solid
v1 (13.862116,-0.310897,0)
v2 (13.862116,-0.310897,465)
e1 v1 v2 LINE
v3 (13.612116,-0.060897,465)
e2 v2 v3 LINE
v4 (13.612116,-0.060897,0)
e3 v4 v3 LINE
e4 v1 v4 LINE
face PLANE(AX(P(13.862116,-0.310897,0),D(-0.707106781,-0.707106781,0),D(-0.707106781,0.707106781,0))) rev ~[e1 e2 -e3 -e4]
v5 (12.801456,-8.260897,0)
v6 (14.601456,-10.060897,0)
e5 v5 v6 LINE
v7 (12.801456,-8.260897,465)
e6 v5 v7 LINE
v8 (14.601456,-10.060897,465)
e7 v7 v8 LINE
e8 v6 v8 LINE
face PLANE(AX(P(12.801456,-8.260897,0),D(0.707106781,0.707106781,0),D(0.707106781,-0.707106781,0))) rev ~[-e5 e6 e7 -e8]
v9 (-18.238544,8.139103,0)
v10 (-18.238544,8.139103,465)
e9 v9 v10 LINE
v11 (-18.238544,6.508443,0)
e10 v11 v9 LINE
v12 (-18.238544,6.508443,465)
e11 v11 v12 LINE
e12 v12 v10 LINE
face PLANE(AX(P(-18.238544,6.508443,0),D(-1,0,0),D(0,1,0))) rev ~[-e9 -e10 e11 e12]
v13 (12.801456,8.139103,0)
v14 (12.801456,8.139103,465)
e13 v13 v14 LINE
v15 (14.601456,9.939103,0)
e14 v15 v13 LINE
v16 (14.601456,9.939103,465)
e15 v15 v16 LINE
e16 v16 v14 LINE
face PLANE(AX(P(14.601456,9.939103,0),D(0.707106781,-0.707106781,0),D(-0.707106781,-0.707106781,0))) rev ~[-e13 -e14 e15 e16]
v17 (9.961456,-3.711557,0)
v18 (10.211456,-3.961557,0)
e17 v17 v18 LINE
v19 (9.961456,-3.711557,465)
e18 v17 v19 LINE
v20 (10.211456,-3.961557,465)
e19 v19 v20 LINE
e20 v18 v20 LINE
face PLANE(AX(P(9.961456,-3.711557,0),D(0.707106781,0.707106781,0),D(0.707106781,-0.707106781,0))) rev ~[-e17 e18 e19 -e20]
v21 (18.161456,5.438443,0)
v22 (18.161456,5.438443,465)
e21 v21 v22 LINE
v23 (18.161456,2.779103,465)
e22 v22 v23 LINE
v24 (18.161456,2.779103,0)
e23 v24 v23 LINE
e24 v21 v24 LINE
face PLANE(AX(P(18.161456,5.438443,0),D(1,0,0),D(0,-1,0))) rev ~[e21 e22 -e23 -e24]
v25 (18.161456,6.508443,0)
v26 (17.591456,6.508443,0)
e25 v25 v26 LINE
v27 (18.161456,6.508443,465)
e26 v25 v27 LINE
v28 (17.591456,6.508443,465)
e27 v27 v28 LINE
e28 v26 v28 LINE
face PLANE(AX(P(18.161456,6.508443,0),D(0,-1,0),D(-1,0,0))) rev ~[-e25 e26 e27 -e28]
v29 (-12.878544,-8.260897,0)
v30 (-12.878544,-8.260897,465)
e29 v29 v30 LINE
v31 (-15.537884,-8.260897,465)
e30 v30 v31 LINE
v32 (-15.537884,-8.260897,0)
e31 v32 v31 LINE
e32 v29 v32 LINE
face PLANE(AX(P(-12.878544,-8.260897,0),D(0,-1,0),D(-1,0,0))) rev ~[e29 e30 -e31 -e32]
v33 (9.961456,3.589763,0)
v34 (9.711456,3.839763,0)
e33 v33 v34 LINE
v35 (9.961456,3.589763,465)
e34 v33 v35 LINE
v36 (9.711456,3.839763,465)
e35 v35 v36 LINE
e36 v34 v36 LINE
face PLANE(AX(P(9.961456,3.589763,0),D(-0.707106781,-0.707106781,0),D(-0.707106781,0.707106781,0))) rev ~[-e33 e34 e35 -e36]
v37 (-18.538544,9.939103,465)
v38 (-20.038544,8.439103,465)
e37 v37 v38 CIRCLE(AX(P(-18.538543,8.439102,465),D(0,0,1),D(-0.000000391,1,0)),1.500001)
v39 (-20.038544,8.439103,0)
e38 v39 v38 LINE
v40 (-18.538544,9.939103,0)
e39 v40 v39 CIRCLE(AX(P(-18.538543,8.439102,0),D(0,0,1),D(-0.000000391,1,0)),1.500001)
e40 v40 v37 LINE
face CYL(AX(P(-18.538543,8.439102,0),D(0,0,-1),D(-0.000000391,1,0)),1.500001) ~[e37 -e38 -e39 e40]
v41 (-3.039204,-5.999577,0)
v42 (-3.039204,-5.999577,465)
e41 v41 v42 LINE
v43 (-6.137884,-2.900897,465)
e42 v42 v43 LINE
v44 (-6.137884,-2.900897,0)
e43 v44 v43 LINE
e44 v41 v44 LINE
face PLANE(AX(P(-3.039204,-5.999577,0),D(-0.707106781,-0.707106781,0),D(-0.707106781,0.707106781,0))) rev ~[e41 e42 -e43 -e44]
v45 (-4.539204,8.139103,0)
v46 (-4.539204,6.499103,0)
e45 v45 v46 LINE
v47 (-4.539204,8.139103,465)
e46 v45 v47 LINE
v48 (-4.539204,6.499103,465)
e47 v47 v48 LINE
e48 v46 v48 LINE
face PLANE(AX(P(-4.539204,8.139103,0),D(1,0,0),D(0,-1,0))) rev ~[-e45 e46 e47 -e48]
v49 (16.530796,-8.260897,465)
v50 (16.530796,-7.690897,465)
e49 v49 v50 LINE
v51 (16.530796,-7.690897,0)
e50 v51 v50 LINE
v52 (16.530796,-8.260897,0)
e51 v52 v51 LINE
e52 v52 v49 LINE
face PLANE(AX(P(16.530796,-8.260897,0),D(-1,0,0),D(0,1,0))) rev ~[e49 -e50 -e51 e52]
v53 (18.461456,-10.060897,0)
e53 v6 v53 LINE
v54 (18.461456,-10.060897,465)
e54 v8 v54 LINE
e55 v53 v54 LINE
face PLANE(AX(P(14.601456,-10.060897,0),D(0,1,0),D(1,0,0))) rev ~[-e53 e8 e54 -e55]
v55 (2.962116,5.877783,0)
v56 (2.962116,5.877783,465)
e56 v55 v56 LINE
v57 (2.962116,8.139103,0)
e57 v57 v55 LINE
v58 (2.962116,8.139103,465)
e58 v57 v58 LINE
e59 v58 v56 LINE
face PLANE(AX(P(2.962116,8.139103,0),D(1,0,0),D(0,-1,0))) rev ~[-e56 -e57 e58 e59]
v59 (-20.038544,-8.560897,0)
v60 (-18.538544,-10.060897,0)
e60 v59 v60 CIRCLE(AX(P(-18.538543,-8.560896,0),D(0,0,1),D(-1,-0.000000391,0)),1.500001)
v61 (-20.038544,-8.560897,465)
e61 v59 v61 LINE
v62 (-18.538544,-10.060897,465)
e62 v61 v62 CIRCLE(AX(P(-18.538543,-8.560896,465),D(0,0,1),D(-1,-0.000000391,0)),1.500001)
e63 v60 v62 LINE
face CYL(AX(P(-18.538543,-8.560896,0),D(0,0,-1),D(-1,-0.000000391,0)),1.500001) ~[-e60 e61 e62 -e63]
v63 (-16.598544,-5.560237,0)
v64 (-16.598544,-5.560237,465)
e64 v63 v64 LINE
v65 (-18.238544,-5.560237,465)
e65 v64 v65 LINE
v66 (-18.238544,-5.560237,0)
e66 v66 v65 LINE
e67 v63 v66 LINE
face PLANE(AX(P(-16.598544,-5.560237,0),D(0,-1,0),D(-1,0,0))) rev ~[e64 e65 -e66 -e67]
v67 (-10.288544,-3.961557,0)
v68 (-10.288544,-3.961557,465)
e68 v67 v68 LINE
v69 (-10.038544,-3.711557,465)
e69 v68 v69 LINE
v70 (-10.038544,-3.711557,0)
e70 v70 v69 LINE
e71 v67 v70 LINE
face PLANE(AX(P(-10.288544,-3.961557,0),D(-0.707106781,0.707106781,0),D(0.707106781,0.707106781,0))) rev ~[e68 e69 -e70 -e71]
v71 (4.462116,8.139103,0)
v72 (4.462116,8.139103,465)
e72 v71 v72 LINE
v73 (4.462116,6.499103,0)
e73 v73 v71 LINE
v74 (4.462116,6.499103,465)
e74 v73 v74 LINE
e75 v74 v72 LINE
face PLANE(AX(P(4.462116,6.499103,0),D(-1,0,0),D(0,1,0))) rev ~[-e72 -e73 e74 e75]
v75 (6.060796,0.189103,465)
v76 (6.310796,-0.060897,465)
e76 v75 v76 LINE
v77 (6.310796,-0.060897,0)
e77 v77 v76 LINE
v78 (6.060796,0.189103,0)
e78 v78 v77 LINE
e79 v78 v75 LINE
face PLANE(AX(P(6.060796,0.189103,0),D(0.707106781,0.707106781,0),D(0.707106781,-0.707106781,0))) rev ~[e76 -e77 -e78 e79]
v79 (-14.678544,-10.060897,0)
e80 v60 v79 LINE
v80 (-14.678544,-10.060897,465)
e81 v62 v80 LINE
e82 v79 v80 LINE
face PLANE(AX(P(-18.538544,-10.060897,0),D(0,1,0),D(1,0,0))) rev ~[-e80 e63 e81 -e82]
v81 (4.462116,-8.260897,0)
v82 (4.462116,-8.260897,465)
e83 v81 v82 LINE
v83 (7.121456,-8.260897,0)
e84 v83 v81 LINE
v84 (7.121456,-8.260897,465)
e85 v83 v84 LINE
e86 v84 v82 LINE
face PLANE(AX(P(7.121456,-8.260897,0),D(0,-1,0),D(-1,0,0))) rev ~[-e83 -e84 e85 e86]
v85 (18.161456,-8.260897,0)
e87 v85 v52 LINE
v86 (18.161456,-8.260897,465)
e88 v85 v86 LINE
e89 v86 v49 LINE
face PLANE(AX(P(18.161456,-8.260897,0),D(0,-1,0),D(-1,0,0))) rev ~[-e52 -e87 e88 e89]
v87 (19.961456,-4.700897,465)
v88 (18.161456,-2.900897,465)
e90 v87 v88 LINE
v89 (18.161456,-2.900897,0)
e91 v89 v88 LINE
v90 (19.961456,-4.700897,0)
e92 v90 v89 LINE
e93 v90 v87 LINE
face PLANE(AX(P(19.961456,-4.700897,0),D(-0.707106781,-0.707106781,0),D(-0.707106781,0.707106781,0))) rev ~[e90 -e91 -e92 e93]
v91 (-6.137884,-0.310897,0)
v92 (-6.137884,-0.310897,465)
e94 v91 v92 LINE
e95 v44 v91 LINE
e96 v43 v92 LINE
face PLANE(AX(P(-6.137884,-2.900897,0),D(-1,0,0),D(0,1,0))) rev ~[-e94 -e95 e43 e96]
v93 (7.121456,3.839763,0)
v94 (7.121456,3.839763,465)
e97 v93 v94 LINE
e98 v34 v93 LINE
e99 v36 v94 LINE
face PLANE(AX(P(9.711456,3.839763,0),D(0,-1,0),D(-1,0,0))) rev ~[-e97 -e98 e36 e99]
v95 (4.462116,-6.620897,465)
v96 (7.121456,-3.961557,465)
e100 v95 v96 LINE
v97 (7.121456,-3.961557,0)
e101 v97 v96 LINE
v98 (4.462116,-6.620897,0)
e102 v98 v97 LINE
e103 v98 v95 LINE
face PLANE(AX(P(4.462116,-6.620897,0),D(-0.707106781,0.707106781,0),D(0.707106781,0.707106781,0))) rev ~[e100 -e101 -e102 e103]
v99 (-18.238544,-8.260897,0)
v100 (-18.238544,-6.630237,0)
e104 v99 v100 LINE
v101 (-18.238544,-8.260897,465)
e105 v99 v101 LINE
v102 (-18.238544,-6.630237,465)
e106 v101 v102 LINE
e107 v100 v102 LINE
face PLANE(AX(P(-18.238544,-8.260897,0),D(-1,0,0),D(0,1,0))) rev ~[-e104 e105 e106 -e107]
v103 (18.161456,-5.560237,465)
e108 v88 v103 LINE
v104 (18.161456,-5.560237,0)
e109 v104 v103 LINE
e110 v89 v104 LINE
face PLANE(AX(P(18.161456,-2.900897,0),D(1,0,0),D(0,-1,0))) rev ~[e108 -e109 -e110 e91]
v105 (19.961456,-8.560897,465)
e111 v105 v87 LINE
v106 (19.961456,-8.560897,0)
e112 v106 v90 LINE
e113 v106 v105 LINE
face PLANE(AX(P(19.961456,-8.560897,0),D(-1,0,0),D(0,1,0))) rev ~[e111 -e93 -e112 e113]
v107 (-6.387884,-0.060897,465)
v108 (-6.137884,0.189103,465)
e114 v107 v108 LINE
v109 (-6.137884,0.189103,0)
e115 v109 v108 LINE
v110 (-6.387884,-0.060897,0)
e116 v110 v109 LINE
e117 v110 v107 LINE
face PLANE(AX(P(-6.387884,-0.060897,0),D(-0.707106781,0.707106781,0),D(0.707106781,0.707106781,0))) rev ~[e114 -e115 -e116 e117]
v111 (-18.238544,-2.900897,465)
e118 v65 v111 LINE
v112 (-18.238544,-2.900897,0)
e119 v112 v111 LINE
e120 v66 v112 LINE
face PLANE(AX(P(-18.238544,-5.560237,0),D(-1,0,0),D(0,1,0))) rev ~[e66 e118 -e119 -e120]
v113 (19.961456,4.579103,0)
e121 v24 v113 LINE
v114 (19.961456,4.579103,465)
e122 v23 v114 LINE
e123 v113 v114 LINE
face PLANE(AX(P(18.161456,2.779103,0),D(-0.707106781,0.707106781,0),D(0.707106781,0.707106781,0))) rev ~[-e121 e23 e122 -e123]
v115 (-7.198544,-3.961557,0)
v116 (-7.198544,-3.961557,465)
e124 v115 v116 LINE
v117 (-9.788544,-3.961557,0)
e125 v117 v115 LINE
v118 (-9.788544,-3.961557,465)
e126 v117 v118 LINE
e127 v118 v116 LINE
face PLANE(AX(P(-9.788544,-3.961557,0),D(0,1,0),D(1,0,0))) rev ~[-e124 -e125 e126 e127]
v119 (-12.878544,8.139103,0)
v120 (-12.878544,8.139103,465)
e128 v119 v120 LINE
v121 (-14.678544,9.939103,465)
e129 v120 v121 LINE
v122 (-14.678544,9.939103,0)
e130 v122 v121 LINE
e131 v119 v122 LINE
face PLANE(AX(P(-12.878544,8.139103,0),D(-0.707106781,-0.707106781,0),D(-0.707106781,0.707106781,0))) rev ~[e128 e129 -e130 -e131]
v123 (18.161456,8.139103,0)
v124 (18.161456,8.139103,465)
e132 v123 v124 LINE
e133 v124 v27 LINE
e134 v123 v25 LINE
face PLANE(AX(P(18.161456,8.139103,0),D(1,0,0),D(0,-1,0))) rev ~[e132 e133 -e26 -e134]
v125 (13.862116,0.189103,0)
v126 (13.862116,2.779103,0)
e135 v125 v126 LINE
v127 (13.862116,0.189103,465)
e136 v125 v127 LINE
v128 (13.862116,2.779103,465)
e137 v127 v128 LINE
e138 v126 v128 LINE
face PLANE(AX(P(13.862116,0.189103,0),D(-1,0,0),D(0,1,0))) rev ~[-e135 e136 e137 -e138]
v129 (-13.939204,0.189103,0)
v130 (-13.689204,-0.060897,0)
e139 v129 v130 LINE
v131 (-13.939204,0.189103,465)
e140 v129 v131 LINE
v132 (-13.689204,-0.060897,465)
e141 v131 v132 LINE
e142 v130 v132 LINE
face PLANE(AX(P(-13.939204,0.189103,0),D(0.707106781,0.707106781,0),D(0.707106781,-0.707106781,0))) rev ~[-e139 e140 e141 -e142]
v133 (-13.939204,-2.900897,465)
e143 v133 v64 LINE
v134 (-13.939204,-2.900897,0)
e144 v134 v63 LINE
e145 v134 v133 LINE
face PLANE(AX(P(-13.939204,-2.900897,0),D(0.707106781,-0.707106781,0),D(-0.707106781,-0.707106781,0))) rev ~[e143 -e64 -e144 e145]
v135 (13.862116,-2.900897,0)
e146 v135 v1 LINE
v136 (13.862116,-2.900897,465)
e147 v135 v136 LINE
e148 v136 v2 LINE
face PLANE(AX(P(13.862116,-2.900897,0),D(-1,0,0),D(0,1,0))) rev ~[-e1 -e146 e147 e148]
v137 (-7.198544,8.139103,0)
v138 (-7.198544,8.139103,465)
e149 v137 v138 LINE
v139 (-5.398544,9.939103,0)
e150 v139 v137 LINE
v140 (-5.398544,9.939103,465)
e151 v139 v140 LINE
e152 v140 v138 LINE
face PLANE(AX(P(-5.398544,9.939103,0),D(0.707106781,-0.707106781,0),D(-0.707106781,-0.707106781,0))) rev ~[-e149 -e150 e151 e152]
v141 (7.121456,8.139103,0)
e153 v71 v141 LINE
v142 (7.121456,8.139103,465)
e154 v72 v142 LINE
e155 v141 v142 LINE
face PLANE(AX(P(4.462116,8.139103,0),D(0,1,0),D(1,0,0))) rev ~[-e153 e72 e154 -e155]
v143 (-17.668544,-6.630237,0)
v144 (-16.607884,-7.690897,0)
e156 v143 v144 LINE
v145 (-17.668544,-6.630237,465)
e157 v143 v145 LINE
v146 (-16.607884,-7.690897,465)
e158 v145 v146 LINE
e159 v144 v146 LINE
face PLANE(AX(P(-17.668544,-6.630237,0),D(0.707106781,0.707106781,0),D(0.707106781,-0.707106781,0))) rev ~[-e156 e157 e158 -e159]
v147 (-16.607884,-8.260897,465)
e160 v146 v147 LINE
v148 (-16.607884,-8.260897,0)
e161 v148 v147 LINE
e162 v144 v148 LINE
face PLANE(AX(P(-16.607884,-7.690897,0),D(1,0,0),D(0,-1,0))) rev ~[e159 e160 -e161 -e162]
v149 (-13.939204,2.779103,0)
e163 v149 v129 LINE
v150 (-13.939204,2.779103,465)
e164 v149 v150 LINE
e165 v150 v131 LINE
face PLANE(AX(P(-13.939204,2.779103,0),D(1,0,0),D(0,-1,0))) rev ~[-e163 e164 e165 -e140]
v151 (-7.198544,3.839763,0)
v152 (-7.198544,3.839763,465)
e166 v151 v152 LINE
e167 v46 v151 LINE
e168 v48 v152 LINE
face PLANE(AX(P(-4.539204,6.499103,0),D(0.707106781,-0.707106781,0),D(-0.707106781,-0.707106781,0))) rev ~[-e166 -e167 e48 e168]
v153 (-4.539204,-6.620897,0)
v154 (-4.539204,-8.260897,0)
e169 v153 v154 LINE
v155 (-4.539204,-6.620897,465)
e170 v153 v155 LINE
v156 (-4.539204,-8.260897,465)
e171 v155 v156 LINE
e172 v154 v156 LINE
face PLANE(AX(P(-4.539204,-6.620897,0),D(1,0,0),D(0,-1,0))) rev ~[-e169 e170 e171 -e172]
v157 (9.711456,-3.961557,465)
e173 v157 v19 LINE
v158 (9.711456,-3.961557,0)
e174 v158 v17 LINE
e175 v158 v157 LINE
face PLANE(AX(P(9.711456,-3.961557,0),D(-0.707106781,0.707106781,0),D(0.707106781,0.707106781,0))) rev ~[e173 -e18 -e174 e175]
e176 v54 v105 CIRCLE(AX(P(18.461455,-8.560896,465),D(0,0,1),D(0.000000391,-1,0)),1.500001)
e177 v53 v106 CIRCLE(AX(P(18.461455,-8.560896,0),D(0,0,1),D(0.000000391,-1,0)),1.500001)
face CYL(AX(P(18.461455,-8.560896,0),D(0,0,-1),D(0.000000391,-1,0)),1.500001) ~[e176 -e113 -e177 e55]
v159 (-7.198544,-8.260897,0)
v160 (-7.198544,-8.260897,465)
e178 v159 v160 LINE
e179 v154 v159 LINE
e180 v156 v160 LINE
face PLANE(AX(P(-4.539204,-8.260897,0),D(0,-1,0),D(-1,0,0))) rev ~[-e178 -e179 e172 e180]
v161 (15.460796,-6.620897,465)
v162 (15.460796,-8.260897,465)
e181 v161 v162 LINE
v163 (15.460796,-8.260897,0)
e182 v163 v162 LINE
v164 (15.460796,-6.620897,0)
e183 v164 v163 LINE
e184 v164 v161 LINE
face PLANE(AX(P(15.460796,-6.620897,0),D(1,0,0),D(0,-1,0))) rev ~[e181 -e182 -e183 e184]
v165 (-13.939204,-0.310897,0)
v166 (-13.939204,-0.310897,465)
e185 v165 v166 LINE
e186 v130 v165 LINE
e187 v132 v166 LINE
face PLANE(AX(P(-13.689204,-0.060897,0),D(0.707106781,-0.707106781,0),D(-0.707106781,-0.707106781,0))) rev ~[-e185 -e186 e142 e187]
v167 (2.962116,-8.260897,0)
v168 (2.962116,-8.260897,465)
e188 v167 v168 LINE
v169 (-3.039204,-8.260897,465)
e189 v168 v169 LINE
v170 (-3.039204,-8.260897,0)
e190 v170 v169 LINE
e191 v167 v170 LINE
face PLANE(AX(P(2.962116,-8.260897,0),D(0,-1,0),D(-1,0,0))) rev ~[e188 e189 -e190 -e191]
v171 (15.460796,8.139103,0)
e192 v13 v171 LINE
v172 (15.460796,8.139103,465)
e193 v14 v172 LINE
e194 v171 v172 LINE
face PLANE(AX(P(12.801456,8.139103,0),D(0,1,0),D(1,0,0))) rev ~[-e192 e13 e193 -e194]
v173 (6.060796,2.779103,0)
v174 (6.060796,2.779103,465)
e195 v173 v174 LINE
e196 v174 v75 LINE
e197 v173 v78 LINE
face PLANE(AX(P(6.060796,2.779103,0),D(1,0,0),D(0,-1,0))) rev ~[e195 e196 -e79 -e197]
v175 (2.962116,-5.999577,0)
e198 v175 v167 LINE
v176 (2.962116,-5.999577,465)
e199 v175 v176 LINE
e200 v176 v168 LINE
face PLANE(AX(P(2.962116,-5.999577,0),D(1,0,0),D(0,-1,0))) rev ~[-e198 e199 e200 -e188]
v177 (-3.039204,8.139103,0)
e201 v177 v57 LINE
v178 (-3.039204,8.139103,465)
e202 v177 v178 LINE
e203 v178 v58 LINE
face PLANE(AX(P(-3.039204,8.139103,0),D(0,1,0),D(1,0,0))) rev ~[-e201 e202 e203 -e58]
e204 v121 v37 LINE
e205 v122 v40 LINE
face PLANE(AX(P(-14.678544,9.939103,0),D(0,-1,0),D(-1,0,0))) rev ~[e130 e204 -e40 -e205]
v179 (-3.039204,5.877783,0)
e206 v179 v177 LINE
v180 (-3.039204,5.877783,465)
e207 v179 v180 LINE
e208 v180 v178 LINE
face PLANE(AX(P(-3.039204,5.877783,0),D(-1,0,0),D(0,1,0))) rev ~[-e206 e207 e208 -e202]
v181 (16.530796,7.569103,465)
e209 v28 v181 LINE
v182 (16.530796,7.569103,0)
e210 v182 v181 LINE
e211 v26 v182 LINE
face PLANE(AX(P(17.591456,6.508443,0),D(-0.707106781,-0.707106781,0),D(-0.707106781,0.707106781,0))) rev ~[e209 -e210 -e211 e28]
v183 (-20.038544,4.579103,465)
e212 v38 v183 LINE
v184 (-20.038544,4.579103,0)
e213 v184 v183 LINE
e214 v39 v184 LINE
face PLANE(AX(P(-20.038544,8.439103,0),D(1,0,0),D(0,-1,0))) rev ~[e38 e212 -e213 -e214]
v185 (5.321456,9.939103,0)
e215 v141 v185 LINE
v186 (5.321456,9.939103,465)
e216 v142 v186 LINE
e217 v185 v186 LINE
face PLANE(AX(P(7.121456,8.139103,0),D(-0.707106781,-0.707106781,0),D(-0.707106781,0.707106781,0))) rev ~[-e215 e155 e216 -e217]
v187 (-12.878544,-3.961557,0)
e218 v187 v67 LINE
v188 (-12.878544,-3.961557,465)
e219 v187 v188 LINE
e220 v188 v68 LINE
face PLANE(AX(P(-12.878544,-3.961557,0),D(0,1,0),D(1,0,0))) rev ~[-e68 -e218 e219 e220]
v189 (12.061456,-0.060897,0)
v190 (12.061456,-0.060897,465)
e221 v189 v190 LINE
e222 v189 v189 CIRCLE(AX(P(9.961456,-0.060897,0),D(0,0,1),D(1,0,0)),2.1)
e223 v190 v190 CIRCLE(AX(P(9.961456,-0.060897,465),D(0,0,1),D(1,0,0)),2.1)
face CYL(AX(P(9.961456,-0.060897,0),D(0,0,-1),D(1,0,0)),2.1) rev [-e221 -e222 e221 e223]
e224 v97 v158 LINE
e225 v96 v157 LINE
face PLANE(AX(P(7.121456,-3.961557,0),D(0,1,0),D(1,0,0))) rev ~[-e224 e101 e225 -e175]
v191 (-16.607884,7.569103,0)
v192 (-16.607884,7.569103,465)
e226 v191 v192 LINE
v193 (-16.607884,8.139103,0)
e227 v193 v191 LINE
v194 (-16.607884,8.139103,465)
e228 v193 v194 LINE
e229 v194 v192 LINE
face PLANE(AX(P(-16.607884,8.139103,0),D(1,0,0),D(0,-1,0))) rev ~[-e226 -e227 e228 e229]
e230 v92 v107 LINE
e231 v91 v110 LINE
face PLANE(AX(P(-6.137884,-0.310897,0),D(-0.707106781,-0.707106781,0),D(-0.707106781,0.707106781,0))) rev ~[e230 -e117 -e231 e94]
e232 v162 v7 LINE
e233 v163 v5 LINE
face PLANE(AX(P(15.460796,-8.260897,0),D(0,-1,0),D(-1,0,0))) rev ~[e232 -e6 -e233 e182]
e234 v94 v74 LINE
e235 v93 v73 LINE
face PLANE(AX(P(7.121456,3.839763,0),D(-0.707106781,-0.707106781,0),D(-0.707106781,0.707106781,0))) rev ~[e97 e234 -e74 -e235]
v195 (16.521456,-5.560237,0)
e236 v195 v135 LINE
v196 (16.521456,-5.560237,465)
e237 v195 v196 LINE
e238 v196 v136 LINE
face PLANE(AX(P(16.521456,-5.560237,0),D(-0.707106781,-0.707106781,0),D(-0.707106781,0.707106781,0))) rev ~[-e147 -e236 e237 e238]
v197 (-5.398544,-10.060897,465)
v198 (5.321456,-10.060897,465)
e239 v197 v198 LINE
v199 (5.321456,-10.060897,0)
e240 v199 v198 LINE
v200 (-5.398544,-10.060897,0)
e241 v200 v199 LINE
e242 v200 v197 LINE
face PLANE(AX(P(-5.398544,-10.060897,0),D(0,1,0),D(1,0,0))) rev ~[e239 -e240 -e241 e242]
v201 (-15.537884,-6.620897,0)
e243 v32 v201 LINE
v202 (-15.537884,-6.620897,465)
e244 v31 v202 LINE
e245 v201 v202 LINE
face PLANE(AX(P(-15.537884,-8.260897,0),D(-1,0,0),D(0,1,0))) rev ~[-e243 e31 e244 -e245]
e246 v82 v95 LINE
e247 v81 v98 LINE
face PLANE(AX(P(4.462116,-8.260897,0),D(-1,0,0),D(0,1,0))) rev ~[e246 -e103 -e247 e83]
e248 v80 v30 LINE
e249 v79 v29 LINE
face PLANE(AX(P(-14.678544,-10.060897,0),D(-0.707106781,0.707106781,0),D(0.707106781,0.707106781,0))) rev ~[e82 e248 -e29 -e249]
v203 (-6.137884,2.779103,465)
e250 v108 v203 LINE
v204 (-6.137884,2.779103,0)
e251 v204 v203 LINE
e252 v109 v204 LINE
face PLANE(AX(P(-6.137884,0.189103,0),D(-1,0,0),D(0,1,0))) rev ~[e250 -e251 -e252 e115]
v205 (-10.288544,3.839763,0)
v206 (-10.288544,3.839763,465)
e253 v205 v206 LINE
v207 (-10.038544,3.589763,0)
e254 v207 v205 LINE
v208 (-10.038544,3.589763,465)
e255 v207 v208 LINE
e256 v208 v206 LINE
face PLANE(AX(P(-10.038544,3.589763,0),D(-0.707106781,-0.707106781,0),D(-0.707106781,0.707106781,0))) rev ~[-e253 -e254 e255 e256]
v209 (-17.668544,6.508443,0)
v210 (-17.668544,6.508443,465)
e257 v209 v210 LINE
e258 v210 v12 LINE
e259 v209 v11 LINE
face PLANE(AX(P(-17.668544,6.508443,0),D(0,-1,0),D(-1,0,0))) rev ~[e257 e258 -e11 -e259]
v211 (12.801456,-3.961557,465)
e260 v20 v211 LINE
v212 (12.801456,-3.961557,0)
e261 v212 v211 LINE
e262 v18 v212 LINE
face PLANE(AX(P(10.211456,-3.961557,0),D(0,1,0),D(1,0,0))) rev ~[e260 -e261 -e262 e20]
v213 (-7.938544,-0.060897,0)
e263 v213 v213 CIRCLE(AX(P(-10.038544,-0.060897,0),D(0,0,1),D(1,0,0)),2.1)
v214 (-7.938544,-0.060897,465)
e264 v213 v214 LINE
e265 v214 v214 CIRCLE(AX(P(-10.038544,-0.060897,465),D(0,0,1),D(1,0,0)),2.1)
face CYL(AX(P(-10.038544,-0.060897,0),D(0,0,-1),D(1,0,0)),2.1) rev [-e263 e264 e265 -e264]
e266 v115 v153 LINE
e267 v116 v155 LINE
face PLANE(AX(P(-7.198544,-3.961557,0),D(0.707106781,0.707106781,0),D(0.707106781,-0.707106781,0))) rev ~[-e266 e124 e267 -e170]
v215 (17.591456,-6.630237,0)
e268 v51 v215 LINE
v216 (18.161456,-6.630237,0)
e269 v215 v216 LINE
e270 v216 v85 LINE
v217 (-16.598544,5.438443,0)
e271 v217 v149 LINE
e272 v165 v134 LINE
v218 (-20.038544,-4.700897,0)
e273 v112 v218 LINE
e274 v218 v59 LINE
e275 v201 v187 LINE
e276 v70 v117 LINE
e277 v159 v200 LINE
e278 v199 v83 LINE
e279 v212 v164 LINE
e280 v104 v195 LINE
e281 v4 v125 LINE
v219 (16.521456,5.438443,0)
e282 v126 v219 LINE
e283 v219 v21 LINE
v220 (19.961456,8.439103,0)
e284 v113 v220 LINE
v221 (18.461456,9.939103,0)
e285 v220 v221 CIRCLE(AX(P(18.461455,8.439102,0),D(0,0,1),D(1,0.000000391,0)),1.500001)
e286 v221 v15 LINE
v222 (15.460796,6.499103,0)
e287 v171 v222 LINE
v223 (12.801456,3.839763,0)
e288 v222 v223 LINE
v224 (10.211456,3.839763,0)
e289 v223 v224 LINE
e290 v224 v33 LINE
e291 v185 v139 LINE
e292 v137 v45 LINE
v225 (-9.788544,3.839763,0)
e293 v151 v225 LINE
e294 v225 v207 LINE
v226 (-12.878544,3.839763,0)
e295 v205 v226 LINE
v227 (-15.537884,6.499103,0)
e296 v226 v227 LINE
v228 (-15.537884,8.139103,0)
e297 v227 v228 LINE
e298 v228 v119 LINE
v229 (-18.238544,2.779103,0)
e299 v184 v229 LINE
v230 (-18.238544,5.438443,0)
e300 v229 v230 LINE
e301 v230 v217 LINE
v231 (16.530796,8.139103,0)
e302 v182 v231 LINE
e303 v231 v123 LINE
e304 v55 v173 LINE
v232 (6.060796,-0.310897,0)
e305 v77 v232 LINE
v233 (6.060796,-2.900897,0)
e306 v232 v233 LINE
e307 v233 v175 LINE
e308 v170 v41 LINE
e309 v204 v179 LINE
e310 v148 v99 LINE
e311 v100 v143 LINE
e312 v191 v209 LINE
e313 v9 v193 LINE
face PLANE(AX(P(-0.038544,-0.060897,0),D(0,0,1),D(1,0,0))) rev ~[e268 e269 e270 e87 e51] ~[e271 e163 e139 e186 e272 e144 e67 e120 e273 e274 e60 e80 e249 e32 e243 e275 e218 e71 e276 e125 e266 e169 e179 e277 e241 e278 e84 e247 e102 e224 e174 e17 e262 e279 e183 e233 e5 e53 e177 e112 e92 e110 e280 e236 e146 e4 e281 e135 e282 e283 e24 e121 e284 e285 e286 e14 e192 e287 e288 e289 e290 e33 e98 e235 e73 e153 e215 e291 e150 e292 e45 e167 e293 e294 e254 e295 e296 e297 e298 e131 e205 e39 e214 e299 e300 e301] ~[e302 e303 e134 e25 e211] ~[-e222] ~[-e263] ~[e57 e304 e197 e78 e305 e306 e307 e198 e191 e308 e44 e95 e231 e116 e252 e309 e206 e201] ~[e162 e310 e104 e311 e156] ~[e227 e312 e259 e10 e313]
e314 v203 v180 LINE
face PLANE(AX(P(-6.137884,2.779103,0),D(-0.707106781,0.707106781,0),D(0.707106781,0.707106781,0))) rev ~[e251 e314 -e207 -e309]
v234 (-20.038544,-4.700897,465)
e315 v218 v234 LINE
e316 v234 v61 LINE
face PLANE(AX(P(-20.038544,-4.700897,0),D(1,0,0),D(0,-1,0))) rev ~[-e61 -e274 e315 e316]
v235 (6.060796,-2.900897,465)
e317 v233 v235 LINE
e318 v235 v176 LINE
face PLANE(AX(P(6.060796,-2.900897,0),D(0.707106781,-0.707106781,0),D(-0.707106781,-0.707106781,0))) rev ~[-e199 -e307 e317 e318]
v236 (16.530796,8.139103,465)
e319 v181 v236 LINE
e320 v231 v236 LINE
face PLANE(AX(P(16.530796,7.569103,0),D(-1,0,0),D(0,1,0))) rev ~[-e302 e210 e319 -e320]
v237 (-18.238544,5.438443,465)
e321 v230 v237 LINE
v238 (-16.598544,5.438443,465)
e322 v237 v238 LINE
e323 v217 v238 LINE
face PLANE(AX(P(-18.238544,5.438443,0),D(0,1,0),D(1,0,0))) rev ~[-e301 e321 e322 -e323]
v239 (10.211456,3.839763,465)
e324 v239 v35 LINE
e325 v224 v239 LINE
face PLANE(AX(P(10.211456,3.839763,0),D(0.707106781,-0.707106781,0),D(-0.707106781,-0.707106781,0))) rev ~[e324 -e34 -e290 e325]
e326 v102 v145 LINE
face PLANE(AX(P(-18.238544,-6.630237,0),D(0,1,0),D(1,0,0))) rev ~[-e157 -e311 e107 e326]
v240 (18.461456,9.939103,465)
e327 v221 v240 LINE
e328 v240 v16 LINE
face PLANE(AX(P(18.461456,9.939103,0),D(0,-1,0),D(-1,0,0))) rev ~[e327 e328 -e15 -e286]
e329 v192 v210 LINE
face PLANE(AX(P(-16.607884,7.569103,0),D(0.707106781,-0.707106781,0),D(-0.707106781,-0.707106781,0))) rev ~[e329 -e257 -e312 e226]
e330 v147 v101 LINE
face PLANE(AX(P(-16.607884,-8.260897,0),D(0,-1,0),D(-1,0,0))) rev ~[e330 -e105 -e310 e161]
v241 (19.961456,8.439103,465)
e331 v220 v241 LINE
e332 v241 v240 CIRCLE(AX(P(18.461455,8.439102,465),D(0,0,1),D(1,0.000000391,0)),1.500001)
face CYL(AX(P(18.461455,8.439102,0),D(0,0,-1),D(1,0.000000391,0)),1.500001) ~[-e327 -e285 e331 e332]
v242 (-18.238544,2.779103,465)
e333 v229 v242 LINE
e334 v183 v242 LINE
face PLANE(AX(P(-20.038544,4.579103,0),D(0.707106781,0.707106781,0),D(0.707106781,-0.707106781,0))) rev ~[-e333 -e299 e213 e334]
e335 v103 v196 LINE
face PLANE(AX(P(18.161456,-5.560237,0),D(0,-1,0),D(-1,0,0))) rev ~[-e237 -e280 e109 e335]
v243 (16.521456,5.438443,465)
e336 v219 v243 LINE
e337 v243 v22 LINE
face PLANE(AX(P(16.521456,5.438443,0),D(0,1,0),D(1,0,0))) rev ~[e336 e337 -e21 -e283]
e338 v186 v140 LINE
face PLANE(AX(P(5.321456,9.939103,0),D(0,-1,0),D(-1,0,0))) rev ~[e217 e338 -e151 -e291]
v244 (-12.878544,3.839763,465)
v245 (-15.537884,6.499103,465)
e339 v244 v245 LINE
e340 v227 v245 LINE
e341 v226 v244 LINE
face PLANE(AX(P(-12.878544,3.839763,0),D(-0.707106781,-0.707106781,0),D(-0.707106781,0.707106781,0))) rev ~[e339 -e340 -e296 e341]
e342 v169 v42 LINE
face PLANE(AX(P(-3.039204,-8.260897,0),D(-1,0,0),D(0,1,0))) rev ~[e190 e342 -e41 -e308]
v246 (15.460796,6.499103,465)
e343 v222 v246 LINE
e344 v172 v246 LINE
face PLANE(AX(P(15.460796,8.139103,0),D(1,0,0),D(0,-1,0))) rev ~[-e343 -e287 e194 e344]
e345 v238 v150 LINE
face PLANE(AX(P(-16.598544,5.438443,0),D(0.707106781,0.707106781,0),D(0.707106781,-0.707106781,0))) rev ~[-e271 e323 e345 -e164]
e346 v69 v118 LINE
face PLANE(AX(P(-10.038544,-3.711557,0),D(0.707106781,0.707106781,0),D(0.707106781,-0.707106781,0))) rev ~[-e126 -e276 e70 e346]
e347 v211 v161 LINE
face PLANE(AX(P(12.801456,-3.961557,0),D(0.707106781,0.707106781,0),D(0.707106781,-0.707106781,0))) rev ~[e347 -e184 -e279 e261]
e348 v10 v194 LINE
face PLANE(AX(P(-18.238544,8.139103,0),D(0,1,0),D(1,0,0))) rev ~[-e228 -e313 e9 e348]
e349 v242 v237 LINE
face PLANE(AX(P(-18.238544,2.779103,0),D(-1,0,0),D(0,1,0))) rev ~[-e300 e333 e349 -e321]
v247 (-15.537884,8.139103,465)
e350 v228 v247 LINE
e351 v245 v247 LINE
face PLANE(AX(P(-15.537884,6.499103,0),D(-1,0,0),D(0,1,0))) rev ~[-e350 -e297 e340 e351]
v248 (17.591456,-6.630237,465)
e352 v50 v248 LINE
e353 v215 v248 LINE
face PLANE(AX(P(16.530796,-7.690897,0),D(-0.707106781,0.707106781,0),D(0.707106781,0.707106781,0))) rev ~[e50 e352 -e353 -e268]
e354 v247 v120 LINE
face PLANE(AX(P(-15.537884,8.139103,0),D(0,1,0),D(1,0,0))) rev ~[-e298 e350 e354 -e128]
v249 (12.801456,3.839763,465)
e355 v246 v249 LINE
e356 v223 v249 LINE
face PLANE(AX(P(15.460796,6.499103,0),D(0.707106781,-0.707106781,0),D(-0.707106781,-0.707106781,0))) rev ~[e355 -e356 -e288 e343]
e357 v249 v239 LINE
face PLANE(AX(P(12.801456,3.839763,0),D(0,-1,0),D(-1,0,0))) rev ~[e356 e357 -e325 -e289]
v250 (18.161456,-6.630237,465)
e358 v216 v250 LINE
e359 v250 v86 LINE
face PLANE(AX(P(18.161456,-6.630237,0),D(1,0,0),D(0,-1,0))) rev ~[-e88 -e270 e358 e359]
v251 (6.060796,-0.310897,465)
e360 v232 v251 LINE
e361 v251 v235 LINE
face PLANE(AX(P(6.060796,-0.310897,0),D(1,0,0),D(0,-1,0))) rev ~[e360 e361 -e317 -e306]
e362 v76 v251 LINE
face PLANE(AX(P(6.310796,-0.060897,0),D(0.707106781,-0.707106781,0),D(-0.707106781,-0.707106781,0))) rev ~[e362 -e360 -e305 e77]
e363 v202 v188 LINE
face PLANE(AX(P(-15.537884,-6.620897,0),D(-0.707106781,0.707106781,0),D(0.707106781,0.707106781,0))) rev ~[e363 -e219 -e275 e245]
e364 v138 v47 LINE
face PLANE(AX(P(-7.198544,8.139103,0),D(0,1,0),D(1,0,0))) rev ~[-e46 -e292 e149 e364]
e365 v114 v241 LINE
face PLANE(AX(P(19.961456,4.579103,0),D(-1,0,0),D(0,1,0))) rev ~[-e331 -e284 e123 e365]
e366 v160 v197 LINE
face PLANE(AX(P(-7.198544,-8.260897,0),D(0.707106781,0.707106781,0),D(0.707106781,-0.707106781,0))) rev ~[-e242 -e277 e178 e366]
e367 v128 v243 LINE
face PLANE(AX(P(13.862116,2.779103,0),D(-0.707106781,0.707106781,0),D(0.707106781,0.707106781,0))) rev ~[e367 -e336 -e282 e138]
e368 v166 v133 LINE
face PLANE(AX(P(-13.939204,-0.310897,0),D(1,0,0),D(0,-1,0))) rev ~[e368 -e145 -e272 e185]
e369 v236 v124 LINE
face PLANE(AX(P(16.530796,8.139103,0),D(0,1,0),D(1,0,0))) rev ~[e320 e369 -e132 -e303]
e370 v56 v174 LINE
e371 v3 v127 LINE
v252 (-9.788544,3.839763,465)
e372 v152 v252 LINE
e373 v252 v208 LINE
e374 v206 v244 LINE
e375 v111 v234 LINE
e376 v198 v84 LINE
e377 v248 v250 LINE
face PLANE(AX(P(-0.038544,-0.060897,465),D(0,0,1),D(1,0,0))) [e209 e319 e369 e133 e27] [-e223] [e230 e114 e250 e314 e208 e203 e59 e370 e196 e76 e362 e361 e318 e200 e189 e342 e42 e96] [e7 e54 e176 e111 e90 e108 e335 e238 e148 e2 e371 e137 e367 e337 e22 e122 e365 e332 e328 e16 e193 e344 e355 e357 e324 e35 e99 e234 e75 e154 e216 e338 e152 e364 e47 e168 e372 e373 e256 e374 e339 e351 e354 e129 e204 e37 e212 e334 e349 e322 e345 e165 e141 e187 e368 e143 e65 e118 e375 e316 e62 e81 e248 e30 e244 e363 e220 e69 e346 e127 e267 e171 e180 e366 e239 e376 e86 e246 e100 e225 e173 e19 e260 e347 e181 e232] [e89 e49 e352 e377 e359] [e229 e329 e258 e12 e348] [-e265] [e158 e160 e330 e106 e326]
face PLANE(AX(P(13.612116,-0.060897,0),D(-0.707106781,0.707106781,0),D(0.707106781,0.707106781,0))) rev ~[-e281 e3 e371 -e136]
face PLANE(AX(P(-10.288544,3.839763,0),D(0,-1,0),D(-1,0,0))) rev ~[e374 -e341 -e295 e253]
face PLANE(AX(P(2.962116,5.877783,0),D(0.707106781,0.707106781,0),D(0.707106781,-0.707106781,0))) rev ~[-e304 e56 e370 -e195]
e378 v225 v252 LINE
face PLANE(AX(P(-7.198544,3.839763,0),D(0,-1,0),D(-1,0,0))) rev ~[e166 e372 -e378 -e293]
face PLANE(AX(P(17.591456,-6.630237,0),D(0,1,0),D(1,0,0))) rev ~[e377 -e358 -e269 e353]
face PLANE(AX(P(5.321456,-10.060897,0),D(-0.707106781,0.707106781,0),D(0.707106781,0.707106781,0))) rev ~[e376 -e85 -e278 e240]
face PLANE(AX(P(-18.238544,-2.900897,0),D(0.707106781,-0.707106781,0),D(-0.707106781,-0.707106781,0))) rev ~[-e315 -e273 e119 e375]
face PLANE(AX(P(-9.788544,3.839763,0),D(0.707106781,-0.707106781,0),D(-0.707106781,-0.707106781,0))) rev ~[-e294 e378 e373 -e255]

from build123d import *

# Parameters (mm, degrees)
F0_R     = 2.1
F1_DEPTH = 465


with BuildPart() as f1:
    # F0 (on Top) → F1 (new body)
    with BuildSketch(Plane.XY):
        with BuildLine():
            Line((-5.398544, -10.060897), (-1.538544, -10.060897))
            Line((-1.538544, -10.060897), (1.461456, -10.060897))
            Line((1.461456, -10.060897), (5.321456, -10.060897))
            Line((5.321456, -10.060897), (7.121456, -8.260897))
            Line((7.121456, -8.260897), (4.462116, -8.260897))
            Line((4.462116, -8.260897), (4.462116, -6.620897))
            Line((4.462116, -6.620897), (7.121456, -3.961557))
            Line((7.121456, -3.961557), (9.711456, -3.961557))
            Line((9.711456, -3.961557), (9.961456, -3.711557))
            Line((9.961456, -3.711557), (10.211456, -3.961557))
            Line((10.211456, -3.961557), (12.801456, -3.961557))
            Line((12.801456, -3.961557), (15.460796, -6.620897))
            Line((15.460796, -6.620897), (15.460796, -8.260897))
            Line((15.460796, -8.260897), (12.801456, -8.260897))
            Line((12.801456, -8.260897), (14.601456, -10.060897))
            Line((14.601456, -10.060897), (18.461456, -10.060897))
            ThreePointArc((18.461456, -10.060897), (19.522116, -9.621557), (19.961456, -8.560897))
            Line((19.961456, -8.560897), (19.961456, -4.700897))
            Line((19.961456, -4.700897), (18.161456, -2.900897))
            Line((18.161456, -2.900897), (18.161456, -5.560237))
            Line((18.161456, -5.560237), (16.521456, -5.560237))
            Line((16.521456, -5.560237), (13.862116, -2.900897))
            Line((13.862116, -2.900897), (13.862116, -0.310897))
            Line((13.862116, -0.310897), (13.612116, -0.060897))
            Line((13.612116, -0.060897), (13.862116, 0.189103))
            Line((13.862116, 0.189103), (13.862116, 2.779103))
            Line((13.862116, 2.779103), (16.521456, 5.438443))
            Line((16.521456, 5.438443), (18.161456, 5.438443))
            Line((18.161456, 5.438443), (18.161456, 2.779103))
            Line((18.161456, 2.779103), (19.961456, 4.579103))
            Line((19.961456, 4.579103), (19.961456, 8.439103))
            ThreePointArc((19.961456, 8.439103), (19.522116, 9.499763), (18.461456, 9.939103))
            Line((18.461456, 9.939103), (14.601456, 9.939103))
            Line((14.601456, 9.939103), (12.801456, 8.139103))
            Line((12.801456, 8.139103), (15.460796, 8.139103))
            Line((15.460796, 8.139103), (15.460796, 6.499103))
            Line((15.460796, 6.499103), (12.801456, 3.839763))
            Line((12.801456, 3.839763), (10.211456, 3.839763))
            Line((10.211456, 3.839763), (9.961456, 3.589763))
            Line((9.961456, 3.589763), (9.711456, 3.839763))
            Line((9.711456, 3.839763), (7.121456, 3.839763))
            Line((7.121456, 3.839763), (4.462116, 6.499103))
            Line((4.462116, 6.499103), (4.462116, 8.139103))
            Line((4.462116, 8.139103), (7.121456, 8.139103))
            Line((7.121456, 8.139103), (5.321456, 9.939103))
            Line((5.321456, 9.939103), (1.461456, 9.939103))
            Line((1.461456, 9.939103), (-1.538544, 9.939103))
            Line((-1.538544, 9.939103), (-5.398544, 9.939103))
            Line((-5.398544, 9.939103), (-7.198544, 8.139103))
            Line((-7.198544, 8.139103), (-4.539204, 8.139103))
            Line((-4.539204, 8.139103), (-4.539204, 6.499103))
            Line((-4.539204, 6.499103), (-7.198544, 3.839763))
            Line((-7.198544, 3.839763), (-9.788544, 3.839763))
            Line((-9.788544, 3.839763), (-10.038544, 3.589763))
            Line((-10.038544, 3.589763), (-10.288544, 3.839763))
            Line((-10.288544, 3.839763), (-12.878544, 3.839763))
            Line((-12.878544, 3.839763), (-15.537884, 6.499103))
            Line((-15.537884, 6.499103), (-15.537884, 8.139103))
            Line((-15.537884, 8.139103), (-12.878544, 8.139103))
            Line((-12.878544, 8.139103), (-14.678544, 9.939103))
            Line((-14.678544, 9.939103), (-18.538544, 9.939103))
            ThreePointArc((-18.538544, 9.939103), (-19.599204, 9.499763), (-20.038544, 8.439103))
            Line((-20.038544, 8.439103), (-20.038544, 4.579103))
            Line((-20.038544, 4.579103), (-18.238544, 2.779103))
            Line((-18.238544, 2.779103), (-18.238544, 5.438443))
            Line((-18.238544, 5.438443), (-16.598544, 5.438443))
            Line((-16.598544, 5.438443), (-13.939204, 2.779103))
            Line((-13.939204, 2.779103), (-13.939204, 0.189103))
            Line((-13.939204, 0.189103), (-13.689204, -0.060897))
            Line((-13.689204, -0.060897), (-13.939204, -0.310897))
            Line((-13.939204, -0.310897), (-13.939204, -2.900897))
            Line((-13.939204, -2.900897), (-16.598544, -5.560237))
            Line((-16.598544, -5.560237), (-18.238544, -5.560237))
            Line((-18.238544, -5.560237), (-18.238544, -2.900897))
            Line((-18.238544, -2.900897), (-20.038544, -4.700897))
            Line((-20.038544, -4.700897), (-20.038544, -8.560897))
            ThreePointArc((-20.038544, -8.560897), (-19.599204, -9.621557), (-18.538544, -10.060897))
            Line((-18.538544, -10.060897), (-14.678544, -10.060897))
            Line((-14.678544, -10.060897), (-12.878544, -8.260897))
            Line((-12.878544, -8.260897), (-15.537884, -8.260897))
            Line((-15.537884, -8.260897), (-15.537884, -6.620897))
            Line((-15.537884, -6.620897), (-12.878544, -3.961557))
            Line((-12.878544, -3.961557), (-10.288544, -3.961557))
            Line((-10.288544, -3.961557), (-10.038544, -3.711557))
            Line((-10.038544, -3.711557), (-9.788544, -3.961557))
            Line((-9.788544, -3.961557), (-7.198544, -3.961557))
            Line((-7.198544, -3.961557), (-4.539204, -6.620897))
            Line((-4.539204, -6.620897), (-4.539204, -8.260897))
            Line((-4.539204, -8.260897), (-7.198544, -8.260897))
            Line((-7.198544, -8.260897), (-5.398544, -10.060897))
        make_face()
        Polygon((-16.607884, -7.690897), (-16.607884, -8.260897), (-18.238544, -8.260897), (-18.238544, -6.630237), (-17.668544, -6.630237), align=None, mode=Mode.SUBTRACT)
        Polygon((17.591456, -6.630237), (18.161456, -6.630237), (18.161456, -8.260897), (16.530796, -8.260897), (16.530796, -7.690897), align=None, mode=Mode.SUBTRACT)
        with Locations((-10.038544, -0.060897)):
            Circle(F0_R, mode=Mode.SUBTRACT)
        Polygon((-17.668544, 6.508443), (-18.238544, 6.508443), (-18.238544, 8.139103), (-16.607884, 8.139103), (-16.607884, 7.569103), align=None, mode=Mode.SUBTRACT)
        Polygon((-6.137884, 2.779103), (-3.478544, 5.438443), (-3.039204, 5.877783), (-3.039204, 8.139103), (2.962116, 8.139103), (2.962116, 5.877783), (3.401456, 5.438443), (6.060796, 2.779103), (6.060796, 0.189103), (6.310796, -0.060897), (6.060796, -0.310897), (6.060796, -2.900897), (3.401456, -5.560237), (2.962116, -5.999577), (2.962116, -8.260897), (-3.039204, -8.260897), (-3.039204, -5.999577), (-3.478544, -5.560237), (-6.137884, -2.900897), (-6.137884, -0.310897), (-6.387884, -0.060897), (-6.137884, 0.189103), align=None, mode=Mode.SUBTRACT)
        with Locations((9.961456, -0.060897)):
            Circle(F0_R, mode=Mode.SUBTRACT)
        Polygon((18.161456, 8.139103), (18.161456, 6.508443), (17.591456, 6.508443), (16.530796, 7.569103), (16.530796, 8.139103), align=None, mode=Mode.SUBTRACT)
    extrude(amount=F1_DEPTH)


solid = f1.part
